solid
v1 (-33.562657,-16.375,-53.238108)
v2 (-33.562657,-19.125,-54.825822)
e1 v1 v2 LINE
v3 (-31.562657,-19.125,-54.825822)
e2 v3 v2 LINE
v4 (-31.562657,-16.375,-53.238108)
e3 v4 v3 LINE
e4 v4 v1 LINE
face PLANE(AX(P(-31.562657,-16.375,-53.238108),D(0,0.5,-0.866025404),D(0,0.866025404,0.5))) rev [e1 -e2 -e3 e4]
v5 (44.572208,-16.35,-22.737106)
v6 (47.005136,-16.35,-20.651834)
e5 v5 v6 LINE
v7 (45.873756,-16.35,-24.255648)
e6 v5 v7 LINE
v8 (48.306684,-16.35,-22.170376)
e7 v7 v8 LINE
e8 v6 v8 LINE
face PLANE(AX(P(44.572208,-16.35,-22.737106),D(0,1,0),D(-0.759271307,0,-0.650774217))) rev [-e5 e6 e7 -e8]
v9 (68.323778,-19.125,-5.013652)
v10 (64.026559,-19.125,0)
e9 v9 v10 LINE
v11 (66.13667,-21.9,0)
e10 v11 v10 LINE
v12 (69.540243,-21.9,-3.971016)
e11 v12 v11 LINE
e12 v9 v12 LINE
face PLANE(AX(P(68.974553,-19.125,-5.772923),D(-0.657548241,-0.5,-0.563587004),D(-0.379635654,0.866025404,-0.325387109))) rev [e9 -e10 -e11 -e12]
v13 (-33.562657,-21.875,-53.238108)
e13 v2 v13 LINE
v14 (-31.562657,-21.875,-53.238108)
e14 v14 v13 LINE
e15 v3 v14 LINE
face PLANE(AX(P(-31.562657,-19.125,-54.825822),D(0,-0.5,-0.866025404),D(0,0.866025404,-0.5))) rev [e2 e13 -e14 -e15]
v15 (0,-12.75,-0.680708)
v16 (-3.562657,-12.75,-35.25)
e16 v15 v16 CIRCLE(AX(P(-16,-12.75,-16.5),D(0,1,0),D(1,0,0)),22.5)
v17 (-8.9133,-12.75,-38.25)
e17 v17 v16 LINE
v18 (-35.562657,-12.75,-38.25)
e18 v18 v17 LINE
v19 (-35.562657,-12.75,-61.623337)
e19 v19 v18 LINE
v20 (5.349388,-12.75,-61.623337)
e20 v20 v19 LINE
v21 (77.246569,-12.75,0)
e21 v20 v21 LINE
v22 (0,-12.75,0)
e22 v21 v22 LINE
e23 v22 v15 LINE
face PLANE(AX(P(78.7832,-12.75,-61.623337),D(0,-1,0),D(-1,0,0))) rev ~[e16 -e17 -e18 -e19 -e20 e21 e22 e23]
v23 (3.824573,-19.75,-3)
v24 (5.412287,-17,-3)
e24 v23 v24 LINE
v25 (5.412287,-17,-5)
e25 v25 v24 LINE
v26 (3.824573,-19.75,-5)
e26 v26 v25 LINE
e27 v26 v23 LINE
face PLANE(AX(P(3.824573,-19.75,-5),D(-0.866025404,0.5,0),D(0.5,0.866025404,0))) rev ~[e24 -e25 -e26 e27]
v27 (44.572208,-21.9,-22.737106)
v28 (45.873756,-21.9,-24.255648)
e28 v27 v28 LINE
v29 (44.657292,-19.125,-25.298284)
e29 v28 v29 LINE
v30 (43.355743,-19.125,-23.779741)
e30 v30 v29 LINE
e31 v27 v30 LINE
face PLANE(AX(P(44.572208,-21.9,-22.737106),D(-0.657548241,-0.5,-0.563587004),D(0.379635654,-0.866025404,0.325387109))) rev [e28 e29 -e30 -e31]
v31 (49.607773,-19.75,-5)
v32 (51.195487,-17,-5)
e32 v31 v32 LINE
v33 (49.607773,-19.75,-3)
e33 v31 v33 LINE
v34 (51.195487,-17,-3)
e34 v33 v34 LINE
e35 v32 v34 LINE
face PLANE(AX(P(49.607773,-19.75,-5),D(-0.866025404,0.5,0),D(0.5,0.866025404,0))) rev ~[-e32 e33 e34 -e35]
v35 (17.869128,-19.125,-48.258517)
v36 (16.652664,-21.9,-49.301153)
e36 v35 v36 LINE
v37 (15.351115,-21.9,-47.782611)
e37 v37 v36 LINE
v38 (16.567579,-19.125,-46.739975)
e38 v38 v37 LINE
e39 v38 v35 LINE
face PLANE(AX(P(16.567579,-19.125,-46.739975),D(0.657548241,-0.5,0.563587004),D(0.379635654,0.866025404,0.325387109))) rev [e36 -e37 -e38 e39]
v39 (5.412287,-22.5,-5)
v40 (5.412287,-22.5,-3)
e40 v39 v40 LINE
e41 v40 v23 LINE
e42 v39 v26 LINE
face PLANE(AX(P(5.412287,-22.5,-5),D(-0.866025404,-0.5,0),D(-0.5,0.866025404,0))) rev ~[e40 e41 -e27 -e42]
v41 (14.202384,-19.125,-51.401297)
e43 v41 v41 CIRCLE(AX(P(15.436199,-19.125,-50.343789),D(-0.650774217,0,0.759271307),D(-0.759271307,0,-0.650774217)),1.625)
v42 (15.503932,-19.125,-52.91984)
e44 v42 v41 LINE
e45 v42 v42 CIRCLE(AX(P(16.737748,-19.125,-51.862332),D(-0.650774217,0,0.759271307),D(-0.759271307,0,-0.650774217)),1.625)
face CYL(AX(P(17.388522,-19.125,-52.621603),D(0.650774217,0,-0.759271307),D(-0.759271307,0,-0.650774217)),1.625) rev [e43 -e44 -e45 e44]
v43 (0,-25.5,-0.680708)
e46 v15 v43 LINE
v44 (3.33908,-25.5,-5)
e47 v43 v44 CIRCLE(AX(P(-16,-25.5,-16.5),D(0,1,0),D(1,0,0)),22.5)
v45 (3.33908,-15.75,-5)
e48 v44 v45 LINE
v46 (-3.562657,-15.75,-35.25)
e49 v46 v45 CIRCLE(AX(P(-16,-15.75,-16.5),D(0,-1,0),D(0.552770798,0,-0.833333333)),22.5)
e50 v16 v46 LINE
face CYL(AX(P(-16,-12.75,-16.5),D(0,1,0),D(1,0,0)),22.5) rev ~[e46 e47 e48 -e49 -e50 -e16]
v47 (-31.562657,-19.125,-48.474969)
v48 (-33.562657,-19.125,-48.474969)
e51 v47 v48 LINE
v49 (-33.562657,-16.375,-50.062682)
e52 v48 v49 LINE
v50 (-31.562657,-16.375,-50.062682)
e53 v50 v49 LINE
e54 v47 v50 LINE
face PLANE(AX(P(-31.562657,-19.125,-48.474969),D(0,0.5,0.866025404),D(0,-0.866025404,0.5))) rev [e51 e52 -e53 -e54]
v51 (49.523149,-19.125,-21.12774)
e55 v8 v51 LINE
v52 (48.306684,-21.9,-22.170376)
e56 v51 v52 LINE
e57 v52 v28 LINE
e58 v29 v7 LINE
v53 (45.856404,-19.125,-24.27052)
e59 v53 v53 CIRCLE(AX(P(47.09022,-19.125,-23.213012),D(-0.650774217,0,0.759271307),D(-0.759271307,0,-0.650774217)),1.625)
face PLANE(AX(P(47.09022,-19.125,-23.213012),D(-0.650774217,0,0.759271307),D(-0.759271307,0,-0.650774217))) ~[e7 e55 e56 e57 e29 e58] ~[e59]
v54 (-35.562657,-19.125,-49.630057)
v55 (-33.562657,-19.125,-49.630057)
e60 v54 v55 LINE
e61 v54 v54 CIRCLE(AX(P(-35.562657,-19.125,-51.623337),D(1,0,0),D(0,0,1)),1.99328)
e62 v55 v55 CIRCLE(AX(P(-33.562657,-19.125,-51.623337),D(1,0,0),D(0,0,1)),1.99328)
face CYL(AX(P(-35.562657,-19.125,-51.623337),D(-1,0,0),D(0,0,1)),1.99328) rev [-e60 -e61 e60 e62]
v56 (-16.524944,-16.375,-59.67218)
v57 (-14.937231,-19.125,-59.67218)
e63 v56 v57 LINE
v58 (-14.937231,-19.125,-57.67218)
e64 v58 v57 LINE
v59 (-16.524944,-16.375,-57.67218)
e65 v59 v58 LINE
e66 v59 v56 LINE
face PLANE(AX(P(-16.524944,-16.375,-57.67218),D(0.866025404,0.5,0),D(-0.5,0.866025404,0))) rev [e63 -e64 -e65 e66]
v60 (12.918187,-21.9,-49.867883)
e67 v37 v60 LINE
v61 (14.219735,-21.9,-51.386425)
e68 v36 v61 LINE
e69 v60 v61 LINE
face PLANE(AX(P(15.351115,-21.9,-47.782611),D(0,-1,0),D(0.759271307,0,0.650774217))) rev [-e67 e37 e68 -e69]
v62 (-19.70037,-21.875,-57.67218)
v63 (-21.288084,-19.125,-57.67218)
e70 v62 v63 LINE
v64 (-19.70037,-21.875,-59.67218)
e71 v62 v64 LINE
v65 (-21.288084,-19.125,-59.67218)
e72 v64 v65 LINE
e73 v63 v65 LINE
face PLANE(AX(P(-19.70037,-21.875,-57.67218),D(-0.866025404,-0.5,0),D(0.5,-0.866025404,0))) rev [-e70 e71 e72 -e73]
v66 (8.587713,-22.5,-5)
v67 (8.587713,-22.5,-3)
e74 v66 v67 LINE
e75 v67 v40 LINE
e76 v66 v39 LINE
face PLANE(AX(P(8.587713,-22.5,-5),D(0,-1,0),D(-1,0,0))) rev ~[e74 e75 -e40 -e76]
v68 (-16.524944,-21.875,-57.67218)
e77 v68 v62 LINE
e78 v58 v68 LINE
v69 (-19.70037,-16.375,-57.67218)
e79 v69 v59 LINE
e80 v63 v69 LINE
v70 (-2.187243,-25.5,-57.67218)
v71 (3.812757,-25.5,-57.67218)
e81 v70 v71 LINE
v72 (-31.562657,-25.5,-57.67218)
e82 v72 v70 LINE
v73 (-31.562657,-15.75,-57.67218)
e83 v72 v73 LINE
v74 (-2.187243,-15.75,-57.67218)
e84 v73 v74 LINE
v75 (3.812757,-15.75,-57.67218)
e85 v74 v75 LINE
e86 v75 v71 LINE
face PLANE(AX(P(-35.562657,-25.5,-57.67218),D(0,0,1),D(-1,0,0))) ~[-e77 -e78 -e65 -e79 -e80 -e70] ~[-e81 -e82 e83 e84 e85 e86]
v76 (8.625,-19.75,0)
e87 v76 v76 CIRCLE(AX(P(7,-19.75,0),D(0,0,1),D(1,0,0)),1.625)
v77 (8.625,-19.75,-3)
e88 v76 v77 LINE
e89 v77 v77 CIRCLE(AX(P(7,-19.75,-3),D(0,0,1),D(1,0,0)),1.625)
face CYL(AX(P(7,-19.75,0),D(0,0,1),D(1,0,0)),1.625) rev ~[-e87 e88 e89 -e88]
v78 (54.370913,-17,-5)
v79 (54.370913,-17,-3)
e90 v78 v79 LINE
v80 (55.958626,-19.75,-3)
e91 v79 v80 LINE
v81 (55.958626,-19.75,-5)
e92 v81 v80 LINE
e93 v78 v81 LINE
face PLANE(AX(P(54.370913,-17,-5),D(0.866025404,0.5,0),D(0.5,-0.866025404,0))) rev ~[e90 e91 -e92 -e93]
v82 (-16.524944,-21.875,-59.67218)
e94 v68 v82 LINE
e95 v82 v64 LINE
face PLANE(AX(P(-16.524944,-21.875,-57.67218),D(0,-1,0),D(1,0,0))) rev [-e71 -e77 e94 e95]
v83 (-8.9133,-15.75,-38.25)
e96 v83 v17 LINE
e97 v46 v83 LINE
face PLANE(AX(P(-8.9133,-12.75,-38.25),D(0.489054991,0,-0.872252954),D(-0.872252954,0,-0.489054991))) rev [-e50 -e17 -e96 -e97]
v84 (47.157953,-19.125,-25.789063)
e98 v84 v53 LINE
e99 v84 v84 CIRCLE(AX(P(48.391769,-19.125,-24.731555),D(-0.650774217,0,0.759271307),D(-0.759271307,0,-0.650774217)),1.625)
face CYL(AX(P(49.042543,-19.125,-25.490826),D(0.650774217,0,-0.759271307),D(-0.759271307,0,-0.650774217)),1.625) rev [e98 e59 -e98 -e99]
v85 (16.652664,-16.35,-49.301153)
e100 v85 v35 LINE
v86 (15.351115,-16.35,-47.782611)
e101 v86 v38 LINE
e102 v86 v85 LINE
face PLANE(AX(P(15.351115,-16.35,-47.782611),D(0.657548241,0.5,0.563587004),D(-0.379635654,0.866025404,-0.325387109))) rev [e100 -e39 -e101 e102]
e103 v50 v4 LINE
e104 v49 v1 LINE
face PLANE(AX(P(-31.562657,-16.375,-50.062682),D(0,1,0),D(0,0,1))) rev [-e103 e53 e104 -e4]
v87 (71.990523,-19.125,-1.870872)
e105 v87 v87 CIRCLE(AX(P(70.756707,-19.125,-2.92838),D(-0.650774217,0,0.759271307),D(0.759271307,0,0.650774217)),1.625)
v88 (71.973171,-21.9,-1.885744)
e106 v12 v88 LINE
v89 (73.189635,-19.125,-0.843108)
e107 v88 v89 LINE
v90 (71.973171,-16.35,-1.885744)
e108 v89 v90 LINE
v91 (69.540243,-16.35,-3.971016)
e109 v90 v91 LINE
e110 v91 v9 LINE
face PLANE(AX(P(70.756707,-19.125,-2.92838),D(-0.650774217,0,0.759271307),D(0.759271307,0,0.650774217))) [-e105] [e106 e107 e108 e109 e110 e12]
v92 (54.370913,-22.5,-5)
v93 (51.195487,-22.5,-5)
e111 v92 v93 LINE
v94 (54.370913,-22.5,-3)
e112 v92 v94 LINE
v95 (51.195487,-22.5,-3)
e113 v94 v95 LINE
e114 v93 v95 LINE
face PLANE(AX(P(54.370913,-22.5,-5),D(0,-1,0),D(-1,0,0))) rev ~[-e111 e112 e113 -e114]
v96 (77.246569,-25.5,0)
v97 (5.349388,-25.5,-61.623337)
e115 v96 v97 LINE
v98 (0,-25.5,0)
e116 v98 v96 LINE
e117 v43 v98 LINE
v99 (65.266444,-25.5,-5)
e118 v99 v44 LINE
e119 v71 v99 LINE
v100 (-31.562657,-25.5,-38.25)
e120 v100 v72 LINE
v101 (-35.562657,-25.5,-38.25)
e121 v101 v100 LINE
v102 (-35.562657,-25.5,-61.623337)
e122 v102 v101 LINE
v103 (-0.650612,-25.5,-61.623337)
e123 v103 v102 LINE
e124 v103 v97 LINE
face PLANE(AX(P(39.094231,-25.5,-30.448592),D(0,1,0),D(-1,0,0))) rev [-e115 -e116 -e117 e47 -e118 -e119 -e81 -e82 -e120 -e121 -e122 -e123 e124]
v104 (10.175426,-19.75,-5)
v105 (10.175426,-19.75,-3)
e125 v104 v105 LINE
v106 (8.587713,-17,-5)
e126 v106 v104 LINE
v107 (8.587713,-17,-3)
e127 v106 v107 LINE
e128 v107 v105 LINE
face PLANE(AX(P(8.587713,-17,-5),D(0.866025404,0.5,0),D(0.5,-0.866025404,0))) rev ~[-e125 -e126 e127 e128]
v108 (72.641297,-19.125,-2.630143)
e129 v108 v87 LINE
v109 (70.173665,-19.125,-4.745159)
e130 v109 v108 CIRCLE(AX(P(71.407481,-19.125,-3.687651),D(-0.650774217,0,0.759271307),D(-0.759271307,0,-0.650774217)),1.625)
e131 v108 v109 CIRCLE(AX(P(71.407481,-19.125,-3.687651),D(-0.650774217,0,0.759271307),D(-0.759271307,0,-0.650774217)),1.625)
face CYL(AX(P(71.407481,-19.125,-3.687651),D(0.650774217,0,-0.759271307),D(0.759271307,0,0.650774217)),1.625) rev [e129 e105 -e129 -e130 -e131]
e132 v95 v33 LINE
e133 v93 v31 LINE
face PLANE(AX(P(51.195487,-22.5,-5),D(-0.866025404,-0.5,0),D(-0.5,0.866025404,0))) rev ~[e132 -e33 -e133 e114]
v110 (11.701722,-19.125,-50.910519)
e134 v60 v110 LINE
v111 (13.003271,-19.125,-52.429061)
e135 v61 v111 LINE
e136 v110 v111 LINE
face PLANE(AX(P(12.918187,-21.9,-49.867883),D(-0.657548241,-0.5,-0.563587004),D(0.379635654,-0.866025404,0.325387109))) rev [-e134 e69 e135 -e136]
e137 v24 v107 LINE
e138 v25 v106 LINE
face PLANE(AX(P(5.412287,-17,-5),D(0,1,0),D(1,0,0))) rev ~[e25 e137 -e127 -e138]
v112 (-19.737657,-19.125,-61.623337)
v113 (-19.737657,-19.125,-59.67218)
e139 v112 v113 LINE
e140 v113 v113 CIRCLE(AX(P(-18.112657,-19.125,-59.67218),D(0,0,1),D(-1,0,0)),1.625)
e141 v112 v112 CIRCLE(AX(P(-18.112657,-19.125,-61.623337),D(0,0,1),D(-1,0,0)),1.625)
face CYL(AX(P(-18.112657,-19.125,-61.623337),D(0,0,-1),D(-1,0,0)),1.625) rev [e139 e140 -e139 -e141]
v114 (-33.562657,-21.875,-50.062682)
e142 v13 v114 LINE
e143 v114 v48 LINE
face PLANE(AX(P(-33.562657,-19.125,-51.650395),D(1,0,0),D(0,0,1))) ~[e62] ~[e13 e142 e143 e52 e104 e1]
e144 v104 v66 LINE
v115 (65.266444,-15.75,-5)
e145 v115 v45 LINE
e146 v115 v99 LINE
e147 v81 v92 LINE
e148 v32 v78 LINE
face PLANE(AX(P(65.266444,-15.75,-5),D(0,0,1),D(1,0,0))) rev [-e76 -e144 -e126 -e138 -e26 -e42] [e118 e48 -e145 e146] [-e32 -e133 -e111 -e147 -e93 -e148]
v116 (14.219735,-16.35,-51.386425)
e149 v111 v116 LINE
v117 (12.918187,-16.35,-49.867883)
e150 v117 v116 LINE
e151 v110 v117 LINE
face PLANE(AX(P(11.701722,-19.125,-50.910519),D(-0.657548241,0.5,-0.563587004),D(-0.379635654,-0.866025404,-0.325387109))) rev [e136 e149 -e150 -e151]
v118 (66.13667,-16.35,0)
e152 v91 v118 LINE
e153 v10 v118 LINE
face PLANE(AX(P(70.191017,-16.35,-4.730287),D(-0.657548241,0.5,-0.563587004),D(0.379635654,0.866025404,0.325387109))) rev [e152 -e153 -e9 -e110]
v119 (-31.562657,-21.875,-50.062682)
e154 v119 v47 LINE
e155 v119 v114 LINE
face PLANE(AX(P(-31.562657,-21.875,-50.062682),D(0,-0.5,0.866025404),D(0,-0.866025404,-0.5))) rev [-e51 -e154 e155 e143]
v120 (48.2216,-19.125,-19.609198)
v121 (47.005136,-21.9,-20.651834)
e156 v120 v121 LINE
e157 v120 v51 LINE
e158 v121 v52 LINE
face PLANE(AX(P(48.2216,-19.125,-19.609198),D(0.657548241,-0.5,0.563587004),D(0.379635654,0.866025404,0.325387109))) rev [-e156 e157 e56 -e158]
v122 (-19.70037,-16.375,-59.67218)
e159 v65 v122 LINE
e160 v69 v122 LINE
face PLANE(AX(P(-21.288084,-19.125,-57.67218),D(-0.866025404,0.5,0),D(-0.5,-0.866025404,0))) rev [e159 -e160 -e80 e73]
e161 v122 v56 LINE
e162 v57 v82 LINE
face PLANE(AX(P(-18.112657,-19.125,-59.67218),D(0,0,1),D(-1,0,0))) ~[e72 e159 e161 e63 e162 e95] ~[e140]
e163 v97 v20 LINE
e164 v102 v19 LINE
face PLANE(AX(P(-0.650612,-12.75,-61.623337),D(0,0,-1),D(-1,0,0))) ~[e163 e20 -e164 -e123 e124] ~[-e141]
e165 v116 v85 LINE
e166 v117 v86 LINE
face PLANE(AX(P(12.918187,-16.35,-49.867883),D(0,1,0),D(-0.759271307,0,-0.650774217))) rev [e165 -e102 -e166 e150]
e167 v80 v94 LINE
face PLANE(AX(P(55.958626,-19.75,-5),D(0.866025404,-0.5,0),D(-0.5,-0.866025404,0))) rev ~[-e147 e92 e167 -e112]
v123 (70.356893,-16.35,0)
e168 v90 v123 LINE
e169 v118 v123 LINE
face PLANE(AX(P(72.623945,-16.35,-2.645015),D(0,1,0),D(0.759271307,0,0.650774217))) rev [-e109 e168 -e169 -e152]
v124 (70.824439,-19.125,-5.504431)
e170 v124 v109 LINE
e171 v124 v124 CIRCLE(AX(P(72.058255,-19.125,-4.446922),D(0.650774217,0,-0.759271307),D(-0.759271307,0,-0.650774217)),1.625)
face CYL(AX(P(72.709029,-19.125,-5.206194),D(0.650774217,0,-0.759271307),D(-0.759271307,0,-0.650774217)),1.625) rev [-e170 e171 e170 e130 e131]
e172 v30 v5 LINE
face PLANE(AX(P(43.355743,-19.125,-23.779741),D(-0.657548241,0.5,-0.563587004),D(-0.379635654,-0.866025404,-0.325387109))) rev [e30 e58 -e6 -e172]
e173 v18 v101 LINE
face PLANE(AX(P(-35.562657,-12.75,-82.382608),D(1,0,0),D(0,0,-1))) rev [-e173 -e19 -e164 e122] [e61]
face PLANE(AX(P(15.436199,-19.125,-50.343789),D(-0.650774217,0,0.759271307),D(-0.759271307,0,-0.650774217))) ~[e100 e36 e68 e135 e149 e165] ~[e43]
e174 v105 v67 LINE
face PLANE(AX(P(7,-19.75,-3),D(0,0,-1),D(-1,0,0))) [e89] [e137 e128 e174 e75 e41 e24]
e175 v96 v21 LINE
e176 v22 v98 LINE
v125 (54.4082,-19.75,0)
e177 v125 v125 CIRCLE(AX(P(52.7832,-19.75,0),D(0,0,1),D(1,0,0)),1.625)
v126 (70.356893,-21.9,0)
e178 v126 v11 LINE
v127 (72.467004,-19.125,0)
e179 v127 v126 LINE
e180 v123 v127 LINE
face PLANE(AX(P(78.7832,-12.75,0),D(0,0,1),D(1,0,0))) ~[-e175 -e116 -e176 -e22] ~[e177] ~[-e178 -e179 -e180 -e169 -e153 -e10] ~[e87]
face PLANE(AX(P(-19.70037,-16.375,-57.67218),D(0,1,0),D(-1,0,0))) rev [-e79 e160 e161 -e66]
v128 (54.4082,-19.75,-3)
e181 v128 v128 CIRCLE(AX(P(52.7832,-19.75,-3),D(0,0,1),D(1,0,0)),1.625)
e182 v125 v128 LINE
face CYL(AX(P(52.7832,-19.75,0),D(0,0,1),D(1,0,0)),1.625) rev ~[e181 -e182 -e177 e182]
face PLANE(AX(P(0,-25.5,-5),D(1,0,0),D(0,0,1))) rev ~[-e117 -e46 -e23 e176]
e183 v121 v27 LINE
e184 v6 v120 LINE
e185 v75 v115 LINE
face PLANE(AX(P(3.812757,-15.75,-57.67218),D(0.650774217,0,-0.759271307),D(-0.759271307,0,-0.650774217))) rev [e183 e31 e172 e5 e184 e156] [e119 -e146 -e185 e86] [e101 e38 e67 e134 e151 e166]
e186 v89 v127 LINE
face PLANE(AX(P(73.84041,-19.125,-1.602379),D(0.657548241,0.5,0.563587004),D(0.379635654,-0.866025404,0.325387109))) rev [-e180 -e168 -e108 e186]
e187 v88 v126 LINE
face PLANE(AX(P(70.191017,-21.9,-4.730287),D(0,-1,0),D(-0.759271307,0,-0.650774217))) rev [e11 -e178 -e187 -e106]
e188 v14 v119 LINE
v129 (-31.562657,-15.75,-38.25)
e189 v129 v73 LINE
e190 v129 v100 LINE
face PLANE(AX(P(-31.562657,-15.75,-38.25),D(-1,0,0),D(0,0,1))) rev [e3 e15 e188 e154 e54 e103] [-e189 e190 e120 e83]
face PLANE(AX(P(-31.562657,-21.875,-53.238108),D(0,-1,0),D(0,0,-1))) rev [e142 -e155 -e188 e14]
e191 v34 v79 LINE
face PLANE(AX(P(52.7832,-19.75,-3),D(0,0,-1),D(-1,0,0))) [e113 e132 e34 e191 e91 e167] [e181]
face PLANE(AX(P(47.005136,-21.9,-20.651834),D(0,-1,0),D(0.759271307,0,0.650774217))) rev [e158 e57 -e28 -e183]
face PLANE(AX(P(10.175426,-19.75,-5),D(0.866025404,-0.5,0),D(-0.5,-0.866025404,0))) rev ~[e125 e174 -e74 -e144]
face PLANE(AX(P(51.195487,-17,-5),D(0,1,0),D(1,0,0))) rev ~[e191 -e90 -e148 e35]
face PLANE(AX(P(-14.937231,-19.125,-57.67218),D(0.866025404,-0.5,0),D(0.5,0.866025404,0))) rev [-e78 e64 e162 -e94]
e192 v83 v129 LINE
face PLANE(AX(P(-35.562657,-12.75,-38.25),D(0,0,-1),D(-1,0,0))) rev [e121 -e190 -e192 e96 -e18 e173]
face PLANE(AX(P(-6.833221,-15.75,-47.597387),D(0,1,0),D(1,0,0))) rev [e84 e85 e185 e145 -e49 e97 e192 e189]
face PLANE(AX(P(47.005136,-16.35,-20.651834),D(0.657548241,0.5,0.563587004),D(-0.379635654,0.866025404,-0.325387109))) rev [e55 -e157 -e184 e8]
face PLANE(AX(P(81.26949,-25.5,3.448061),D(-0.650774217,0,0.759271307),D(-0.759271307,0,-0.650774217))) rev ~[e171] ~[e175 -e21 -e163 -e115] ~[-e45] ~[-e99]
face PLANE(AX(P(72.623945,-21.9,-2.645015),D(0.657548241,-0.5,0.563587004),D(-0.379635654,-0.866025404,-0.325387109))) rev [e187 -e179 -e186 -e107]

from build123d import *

# Parameters (mm, degrees)
SALIENTE_EXTRUIR1_DEPTH     = 12.75
CORTAR_EXTRUIR1_REACH       = 31.62
CROQUIS2_R                  = 1.625
CROQUIS3_R                  = 22.5
CORTAR_EXTRUIR2_DEPTH       = 13.75
SALIENTE_EXTRUIR2_DEPTH     = 3
SALIENTE_EXTRUIR3_DEPTH     = 9.75
CROQUIS6_R                  = 1.625
CORTAR_EXTRUIR3_DEPTH       = 10
CORTAR_EXTRUIR4_START       = -2
CORTAR_EXTRUIR4_DEPTH       = 10
CORTAR_EXTRUIR5_START       = -2
CORTAR_EXTRUIR5_DEPTH       = 10
CORTAR_EXTRUIR6_DEPTH       = 2
CORTAR_EXTRUIR7_REACH       = 37.25
CROQUIS10_R                 = 1.625
CORTAR_EXTRUIR8_DEPTH       = 2
CROQUIS12_W                 = 92.508691999
CROQUIS12_H                 = 24.255818813
CORTAR_EXTRUIR9_DEPTH       = 1
CORTAR_EXTRUIR9_DEPTH_BACK  = 36.25
SALIENTE_EXTRUIR4_DEPTH     = 12.75
CORTAR_EXTRUIR10_START      = -9.75
CORTAR_EXTRUIR10_DEPTH      = 9.75
CROQUIS16_W                 = 76.692813467
CROQUIS16_H                 = 12.75
CORTAR_EXTRUIR11_DEPTH      = 1
CROQUIS17_W                 = 40.657498706
CROQUIS17_H                 = 22.934549925
CORTAR_EXTRUIR12_DEPTH      = 1
CORTAR_EXTRUIR12_DEPTH_BACK = 13.75
SALIENTE_EXTRUIR5_REACH     = 14.75
CROQUIS18_W                 = 34.9120451
CROQUIS18_H                 = 3.951156815
CROQUIS20_R                 = 1.625
CORTAR_EXTRUIR14_DEPTH      = 10
CORTAR_EXTRUIR15_DEPTH      = 2
CROQUIS22_R                 = 1.625
CORTAR_EXTRUIR16_DEPTH      = 10
CORTAR_EXTRUIR17_DEPTH      = 2
SALIENTE_EXTRUIR6_DEPTH     = 12.75
CORTAR_EXTRUIR18_DEPTH      = 2
CROQUIS28_R                 = 1.625
SALIENTE_EXTRUIR7_DEPTH     = 1
CORTAR_EXTRUIR19_REACH      = 110.346
CROQUIS29_R                 = 1.993280097
CORTAR_EXTRUIR20_DEPTH      = 2
SALIENTE_EXTRUIR8_DEPTH     = 12.75
SALIENTE_EXTRUIR9_START     = -2.904645
SALIENTE_EXTRUIR9_DEPTH     = 5
SALIENTE_EXTRUIR10_REACH    = 76.413
CORTAR_EXTRUIR21_START      = -9.75
CORTAR_EXTRUIR21_DEPTH      = 9.75
CROQUIS36_R                 = 1.625
CORTAR_EXTRUIR22_DEPTH      = 15
CORTAR_EXTRUIR23_DEPTH      = 2
CORTAR_EXTRUIR24_START      = -2
CORTAR_EXTRUIR24_DEPTH      = 73.413335578
CROQUIS19_W                 = 120.448667976
CROQUIS19_H                 = 32.886651308
CORTAR_EXTRUIR13_DEPTH      = 1
CORTAR_EXTRUIR13_DEPTH_BACK = 62.623336743
CORTAR_EXTRUIR25_DEPTH      = 1
CORTAR_EXTRUIR25_DEPTH_BACK = 13.75
CROQUIS42_R                 = 1.625
SALIENTE_EXTRUIR11_DEPTH    = 1


with BuildPart() as part:
    # Croquis1 → Saliente-Extruir1 (new body)
    with BuildSketch(Plane(origin=(0, 0, 0), x_dir=(1, 0, 0), z_dir=(0, 1, 0))):
        Polygon((0, 0), (72.78319995, 0), (38.224450787, 29.62043043), (35.621353918, 26.5833452), (60.803074847, 5), (0, 5), align=None)
    extrude(amount=SALIENTE_EXTRUIR1_DEPTH)

    # Croquis2 → Cortar-Extruir1 (cut, up to next)
    with BuildSketch(Plane.XY, mode=Mode.PRIVATE) as cortar_extruir1_sk1:
        with Locations((52.78319995, 5.75)):
            Circle(CROQUIS2_R)
    cortar_extruir1_tool1 = extrude(cortar_extruir1_sk1.sketch, amount=-CORTAR_EXTRUIR1_REACH, mode=Mode.PRIVATE) & part.part
    add(cortar_extruir1_tool1.solids().sort_by_distance((52.7832, 5.75, 0))[0], mode=Mode.SUBTRACT)
    # Croquis2 → Cortar-Extruir1 (cut, up to next)
    with BuildSketch(Plane.XY, mode=Mode.PRIVATE) as cortar_extruir1_sk2:
        with Locations((6.99999995, 5.75)):
            Circle(CROQUIS2_R)
    cortar_extruir1_tool2 = extrude(cortar_extruir1_sk2.sketch, amount=-CORTAR_EXTRUIR1_REACH, mode=Mode.PRIVATE) & part.part
    add(cortar_extruir1_tool2.solids().sort_by_distance((7, 5.75, 0))[0], mode=Mode.SUBTRACT)

    # Croquis3 → Cortar-Extruir2 (cut, through all)
    with BuildSketch(Plane(origin=(0, 12.75, 0), x_dir=(1, 0, 0), z_dir=(0, 1, 0))):
        with Locations((-16, 16.5)):
            Circle(CROQUIS3_R)
    extrude(amount=-CORTAR_EXTRUIR2_DEPTH, mode=Mode.SUBTRACT)

    # Croquis4 → Saliente-Extruir2 (add)
    with BuildSketch(Plane(origin=(0, 12.75, 0), x_dir=(1, 0, 0), z_dir=(0, 1, 0))):
        with BuildLine():
            Line((38.224450787, 29.62043043), (31.656319269, 35.25))
            Line((31.656319269, 35.25), (-3.562657036, 35.25))
            ThreePointArc((-3.562657036, 35.25), (5.936291456, 21.504909307), (3.339079606, 5))
            Line((3.339079606, 5), (60.803074847, 5))
            Line((60.803074847, 5), (35.621353918, 26.5833452))
            Line((35.621353918, 26.5833452), (38.224450787, 29.62043043))
        make_face()
    extrude(amount=-SALIENTE_EXTRUIR2_DEPTH)

    # Croquis5 → Saliente-Extruir3 (add)
    with BuildSketch(Plane.XZ.offset(-9.75)):
        with BuildLine():
            Line((-3.562657036, -35.25), (31.656319269, -35.25))
            Line((31.656319269, -35.25), (38.224450787, -29.62043043))
            Line((38.224450787, -29.62043043), (35.621353918, -26.5833452))
            Line((35.621353918, -26.5833452), (30.17667434, -31.25))
            Line((30.17667434, -31.25), (0.990806338, -31.25))
            ThreePointArc((0.990806338, -31.25), (-1.15062315, -33.404023402), (-3.562657036, -35.25))
        make_face()
    extrude(amount=SALIENTE_EXTRUIR3_DEPTH)

    # Croquis6 → Cortar-Extruir3 (cut)
    with BuildSketch(Plane(origin=(30.824200619, 0, -35.963211942), x_dir=(-0.759271307, 0, -0.650774217), z_dir=(0.650774217, 0, -0.759271307))):
        with Locations((-47.262195378, 6.375)):
            Circle(CROQUIS6_R)
        with Locations((-16.095943758, 6.375)):
            Circle(CROQUIS6_R)
    extrude(amount=-CORTAR_EXTRUIR3_DEPTH, mode=Mode.SUBTRACT)

    # Croquis7 → Cortar-Extruir4 (cut)
    with BuildSketch(Plane(origin=(28.22110375, 0, -32.926126712), x_dir=(0.759271307, 0, 0.650774217), z_dir=(-0.650774217, 0, 0.759271307)).offset(CORTAR_EXTRUIR4_START)):
        Polygon((48.849908618, 3.625), (50.437621859, 6.375), (48.849908618, 9.125), (45.674482138, 9.125), (44.086768898, 6.375), (45.674482138, 3.625), align=None)
    extrude(amount=CORTAR_EXTRUIR4_DEPTH, mode=Mode.SUBTRACT)

    # Croquis8 → Cortar-Extruir5 (cut)
    with BuildSketch(Plane(origin=(28.22110375, 0, -32.926126712), x_dir=(0.759271307, 0, 0.650774217), z_dir=(-0.650774217, 0, 0.759271307)).offset(CORTAR_EXTRUIR5_START)):
        Polygon((17.683656999, 3.625), (19.271370239, 6.375), (17.683656999, 9.125), (14.508230518, 9.125), (12.920517278, 6.375), (14.508230518, 3.625), align=None)
    extrude(amount=CORTAR_EXTRUIR5_DEPTH, mode=Mode.SUBTRACT)

    # Croquis9 → Cortar-Extruir6 (cut)
    with BuildSketch(Plane(origin=(0, 0, -5), x_dir=(-1, 0, 0), z_dir=(0, 0, -1))):
        Polygon((-5.41228671, 3), (-3.824573469, 5.75), (-5.41228671, 8.5), (-8.58771319, 8.5), (-10.175426431, 5.75), (-8.58771319, 3), align=None)
        Polygon((-51.19548671, 3), (-49.607773469, 5.75), (-51.19548671, 8.5), (-54.37091319, 8.5), (-55.958626431, 5.75), (-54.37091319, 3), align=None)
    extrude(amount=-CORTAR_EXTRUIR6_DEPTH, mode=Mode.SUBTRACT)

    # Croquis10 → Cortar-Extruir7 (cut, up to next)
    with BuildSketch(Plane(origin=(0, 0, -35.25), x_dir=(-1, 0, 0), z_dir=(0, 0, -1)), mode=Mode.PRIVATE) as cortar_extruir7_sk1:
        with Locations((-21.656319269, 6.375)):
            Circle(CROQUIS10_R)
    cortar_extruir7_tool1 = extrude(cortar_extruir7_sk1.sketch, amount=-CORTAR_EXTRUIR7_REACH, mode=Mode.PRIVATE) & part.part
    add(cortar_extruir7_tool1.solids().sort_by_distance((21.656319, 6.375, -35.25))[0], mode=Mode.SUBTRACT)

    # Croquis11 → Cortar-Extruir8 (cut)
    with BuildSketch(Plane.XY.offset(-31.25)):
        Polygon((23.24403251, 3.625), (24.83174575, 6.375), (23.24403251, 9.125), (20.068606029, 9.125), (18.480892789, 6.375), (20.068606029, 3.625), align=None)
    extrude(amount=-CORTAR_EXTRUIR8_DEPTH, mode=Mode.SUBTRACT)

    # Simetría1: part across plane


with BuildPart() as part_1:
    add(part.part)
    add(part.part.mirror(Plane.ZX))

    # Croquis12 → Cortar-Extruir9 (cut, two sides)
    with BuildSketch(Plane(origin=(0, 0, -35.25), x_dir=(-1, 0, 0), z_dir=(0, 0, -1))) as cortar_extruir9_sk:
        with Locations((-33.077560565, 12.127909407)):
            Rectangle(CROQUIS12_W, CROQUIS12_H)
    extrude(amount=CORTAR_EXTRUIR9_DEPTH, mode=Mode.SUBTRACT)
    extrude(cortar_extruir9_sk.sketch, amount=-CORTAR_EXTRUIR9_DEPTH_BACK, mode=Mode.SUBTRACT)

    # Croquis13 → Saliente-Extruir4 (add)
    with BuildSketch(Plane.XZ.offset(12.75)):
        Polygon((-35.562657036, -82.38260805), (-35.562657036, -38.25), (-8.913300435, -38.25), (-3.562657036, -35.25), (31.656319269, -35.25), (0.000162281, -62.38260805), align=None)
    extrude(amount=-SALIENTE_EXTRUIR4_DEPTH)

    # Croquis14 → Cortar-Extruir10 (cut)
    with BuildSketch(Plane(origin=(0, 0, 0), x_dir=(1, 0, 0), z_dir=(0, 1, 0)).offset(CORTAR_EXTRUIR10_START)):
        Polygon((30.17667434, 31.25), (0.990806338, 31.25), (-31.562657036, 38.25), (-31.562657036, 75.543902968), (-2.303881466, 59.089203295), align=None)
    extrude(amount=CORTAR_EXTRUIR10_DEPTH, mode=Mode.SUBTRACT)

    # Croquis16 → Cortar-Extruir11 (cut)
    with BuildSketch(Plane(origin=(30.824200619, 0, -35.963211942), x_dir=(-0.759271307, 0, -0.650774217), z_dir=(0.650774217, 0, -0.759271307))):
        with Locations((2.250462975, -6.375)):
            Rectangle(CROQUIS16_W, CROQUIS16_H)
    extrude(amount=-CORTAR_EXTRUIR11_DEPTH, mode=Mode.SUBTRACT)

    # Croquis17 → Cortar-Extruir12 (cut, two sides)
    with BuildSketch(Plane.XZ.offset(12.75)) as cortar_extruir12_sk:
        with Locations((-20.328587072, -73.090611706)):
            Rectangle(CROQUIS17_W, CROQUIS17_H)
    extrude(amount=CORTAR_EXTRUIR12_DEPTH, mode=Mode.SUBTRACT)
    extrude(cortar_extruir12_sk.sketch, amount=-CORTAR_EXTRUIR12_DEPTH_BACK, mode=Mode.SUBTRACT)

    # Croquis18 → Saliente-Extruir5 (add, up to next)
    with BuildSketch(Plane(origin=(0, 0, 0), x_dir=(1, 0, 0), z_dir=(0, 1, 0)), mode=Mode.PRIVATE) as saliente_extruir5_sk1:
        with Locations((-18.106634486, 59.647758336)):
            Rectangle(CROQUIS18_W, CROQUIS18_H)
    saliente_extruir5_tool1 = extrude(saliente_extruir5_sk1.sketch, amount=-SALIENTE_EXTRUIR5_REACH, mode=Mode.PRIVATE) - part_1.part
    add(saliente_extruir5_tool1.solids().sort_by_distance((-18.106634, 0, -59.647758))[0])

    # Croquis20 → Cortar-Extruir14 (cut)
    with BuildSketch(Plane(origin=(30.173426402, 0, -35.203940634), x_dir=(-0.759271307, 0, -0.650774217), z_dir=(0.650774217, 0, -0.759271307))):
        with Locations((25.596869709, -6.375)):
            Circle(CROQUIS20_R)
        with Locations((-16.095943758, -6.375)):
            Circle(CROQUIS20_R)
    extrude(amount=-CORTAR_EXTRUIR14_DEPTH, mode=Mode.SUBTRACT)

    # Croquis21 → Cortar-Extruir15 (cut)
    with BuildSketch(Plane(origin=(28.22110375, 0, -32.926126712), x_dir=(0.759271307, 0, 0.650774217), z_dir=(-0.650774217, 0, 0.759271307))):
        Polygon((-24.009156469, -9.125), (-22.421443229, -6.375), (-24.009156469, -3.625), (-27.184582949, -3.625), (-28.77229619, -6.375), (-27.184582949, -9.125), align=None)
    extrude(amount=-CORTAR_EXTRUIR15_DEPTH, mode=Mode.SUBTRACT)

    # Croquis22 → Cortar-Extruir16 (cut)
    with BuildSketch(Plane(origin=(0, 0, -61.623336743), x_dir=(-1, 0, 0), z_dir=(0, 0, -1))):
        with Locations((18.112657036, -6.375)):
            Circle(CROQUIS22_R)
    extrude(amount=-CORTAR_EXTRUIR16_DEPTH, mode=Mode.SUBTRACT)

    # Croquis23 → Cortar-Extruir17 (cut)
    with BuildSketch(Plane.XY.offset(-57.672179928)):
        Polygon((-16.524943796, -9.125), (-14.937230556, -6.375), (-16.524943796, -3.625), (-19.700370276, -3.625), (-21.288083517, -6.375), (-19.700370276, -9.125), align=None)
    extrude(amount=-CORTAR_EXTRUIR17_DEPTH, mode=Mode.SUBTRACT)

    # Croquis26 → Saliente-Extruir6 (add)
    with BuildSketch(Plane(origin=(0, 0, 0), x_dir=(1, 0, 0), z_dir=(0, 1, 0))):
        Polygon((60.803074847, 5), (-2.287792345, 59.07541325), (-2.938566562, 58.316141943), (60.15230063, 4.240728693), align=None)
    extrude(amount=-SALIENTE_EXTRUIR6_DEPTH)

    # Croquis27 → Cortar-Extruir18 (cut)
    with BuildSketch(Plane(origin=(27.570329533, 0, -32.166855405), x_dir=(0.759271307, 0, 0.650774217), z_dir=(-0.650774217, 0, 0.759271307))):
        Polygon((-22.421443229, -6.375), (-24.009156469, -3.625), (-27.184582949, -3.625), (-28.77229619, -6.375), (-27.184582949, -9.125), (-24.009156469, -9.125), align=None)
        Polygon((19.271370239, -6.375), (17.683656999, -3.625), (14.508230518, -3.625), (12.920517278, -6.375), (14.508230518, -9.125), (17.683656999, -9.125), align=None)
    extrude(amount=-CORTAR_EXTRUIR18_DEPTH, mode=Mode.SUBTRACT)

    # Croquis28 → Saliente-Extruir7 (add)
    with BuildSketch(Plane(origin=(29.522652185, 0, -34.444669327), x_dir=(0.759271307, 0, 0.650774217), z_dir=(-0.650774217, 0, 0.759271307))):
        Polygon((-24.009156469, -3.625), (-27.184582949, -3.625), (-28.77229619, -6.375), (-27.184582949, -9.125), (-24.009156469, -9.125), (-22.421443229, -6.375), align=None)
        with Locations((-25.596869709, -6.375)):
            Circle(CROQUIS28_R, mode=Mode.SUBTRACT)
        Polygon((17.683656999, -3.625), (14.508230518, -3.625), (12.920517278, -6.375), (14.508230518, -9.125), (17.683656999, -9.125), (19.271370239, -6.375), align=None)
        with Locations((16.095943758, -6.375)):
            Circle(CROQUIS28_R, mode=Mode.SUBTRACT)
    extrude(amount=SALIENTE_EXTRUIR7_DEPTH)

    # Croquis29 → Cortar-Extruir19 (cut, up to next)
    with BuildSketch(Plane.ZY.offset(35.562657036), mode=Mode.PRIVATE) as cortar_extruir19_sk1:
        with Locations((-51.623336743, -6.375)):
            Circle(CROQUIS29_R)
    cortar_extruir19_tool1 = extrude(cortar_extruir19_sk1.sketch, amount=-CORTAR_EXTRUIR19_REACH, mode=Mode.PRIVATE) & part_1.part
    add(cortar_extruir19_tool1.solids().sort_by_distance((-35.562657, -6.375, -51.623337))[0], mode=Mode.SUBTRACT)

    # Croquis30 → Cortar-Extruir20 (cut)
    with BuildSketch(Plane(origin=(-31.562657036, 0, 0), x_dir=(0, 0, -1), z_dir=(1, 0, 0))):
        Polygon((53.238108484, -9.125), (54.825821725, -6.375), (53.238108484, -3.625), (50.062682004, -3.625), (48.474968763, -6.375), (50.062682004, -9.125), align=None)
    extrude(amount=-CORTAR_EXTRUIR20_DEPTH, mode=Mode.SUBTRACT)

    # Croquis32 → Saliente-Extruir8 (add)
    with BuildSketch(Plane.XZ.offset(12.75)):
        Polygon((-0.650611936, -61.623336743), (5.349388064, -61.623336743), (60.1210833, -14.678316233), (60.771857517, -15.43758754), (78.78319995, 0), (72.78319995, 0), (58.230815026, -12.472902396), (57.580040809, -11.713631088), align=None)
    extrude(amount=-SALIENTE_EXTRUIR8_DEPTH)

    # Croquis33 → Saliente-Extruir9 (add)
    with BuildSketch(Plane(origin=(32.714468893, 0, -38.168625779), x_dir=(-0.759271307, 0, -0.650774217), z_dir=(0.650774217, 0, -0.759271307)).offset(SALIENTE_EXTRUIR9_START)):
        Polygon((-14.508230518, -3.625), (-17.683656999, -3.625), (-19.271370239, -6.375), (-17.683656999, -9.125), (-14.508230518, -9.125), (-12.920517278, -6.375), align=None)
        Polygon((27.184582949, -3.625), (24.009156469, -3.625), (22.421443229, -6.375), (24.009156469, -9.125), (27.184582949, -9.125), (28.77229619, -6.375), align=None)
    extrude(amount=-SALIENTE_EXTRUIR9_DEPTH)

    # Saliente-Extruir10: up to this face of the body (flat: up to its plane)
    saliente_extruir10_end = Plane(part_1.part.faces().sort_by_distance((38.729797406, -6.385876659, 0))[0])
    # Croquis34 → Saliente-Extruir10 (add, up to the picked face)
    with BuildSketch(Plane(origin=(33.36524311, 0, -38.927897086), x_dir=(-0.759271307, 0, -0.650774217), z_dir=(0.650774217, 0, -0.759271307)), mode=Mode.PRIVATE) as saliente_extruir10_sk1:
        Polygon((-45.674482138, -3.625), (-48.849908618, -3.625), (-50.437621859, -6.375), (-48.849908618, -9.125), (-45.674482138, -9.125), (-44.086768898, -6.375), align=None)
    saliente_extruir10_tool1 = split(extrude(saliente_extruir10_sk1.sketch, amount=-SALIENTE_EXTRUIR10_REACH, mode=Mode.PRIVATE), bisect_by=saliente_extruir10_end, keep=Keep.BOTH, mode=Mode.PRIVATE)
    add(saliente_extruir10_tool1.solids().sort_by_distance((69.250072, -6.375, -8.170879))[0])

    # Croquis35 → Cortar-Extruir21 (cut)
    with BuildSketch(Plane(origin=(0, 0, 0), x_dir=(1, 0, 0), z_dir=(0, 1, 0)).offset(CORTAR_EXTRUIR21_START)):
        Polygon((-2.187243188, 57.672179928), (3.812756812, 57.672179928), (65.266443595, 5), (59.266443595, 5), align=None)
    extrude(amount=CORTAR_EXTRUIR21_DEPTH, mode=Mode.SUBTRACT)

    # Croquis36 → Cortar-Extruir22 (cut)
    with BuildSketch(Plane(origin=(33.36524311, 0, -38.927897086), x_dir=(-0.759271307, 0, -0.650774217), z_dir=(0.650774217, 0, -0.759271307))):
        with Locations((-51.817823222, -6.375)):
            Circle(CROQUIS36_R)
        with Locations((-20.647823222, -6.375)):
            Circle(CROQUIS36_R)
        with Locations((21.042176778, -6.375)):
            Circle(CROQUIS36_R)
    extrude(amount=-CORTAR_EXTRUIR22_DEPTH, mode=Mode.SUBTRACT)

    # Croquis38 → Cortar-Extruir23 (cut)
    with BuildSketch(Plane(origin=(30.111372024, 0, -35.131540549), x_dir=(0.759271307, 0, 0.650774217), z_dir=(-0.650774217, 0, 0.759271307))):
        Polygon((-19.440029781, -9.15), (-17.837882784, -6.375), (-19.440029781, -3.6), (-22.644323775, -3.6), (-24.246470772, -6.375), (-22.644323775, -9.15), align=None)
        Polygon((22.249970219, -9.15), (23.852117216, -6.375), (22.249970219, -3.6), (19.045676225, -3.6), (17.443529228, -6.375), (19.045676225, -9.15), align=None)
    extrude(amount=-CORTAR_EXTRUIR23_DEPTH, mode=Mode.SUBTRACT)

    # Croquis39 → Cortar-Extruir24 (cut, through all)
    with BuildSketch(Plane(origin=(33.36524311, 0, -38.927897086), x_dir=(-0.759271307, 0, -0.650774217), z_dir=(0.650774217, 0, -0.759271307)).offset(CORTAR_EXTRUIR24_START)):
        Polygon((-50.215676225, -9.15), (-48.613529228, -6.375), (-50.215676225, -3.6), (-53.419970219, -3.6), (-55.022117216, -6.375), (-53.419970219, -9.15), align=None)
    extrude(amount=-CORTAR_EXTRUIR24_DEPTH, mode=Mode.SUBTRACT)

    # Simetría2: part across face


with BuildPart() as part_2:
    add(part_1.part)
    add(part_1.part.mirror(Plane(origin=(15.909867024, -12.75, -29.216307939), x_dir=(0, 0, 1), z_dir=(0, -1, 0))))

    # Croquis19 → Cortar-Extruir13 (cut, two sides)
    with BuildSketch(Plane(origin=(0, 0, -61.623336743), x_dir=(-1, 0, 0), z_dir=(0, 0, -1))) as cortar_extruir13_sk:
        with Locations((-18.558865962, 3.693325654)):
            Rectangle(CROQUIS19_W, CROQUIS19_H)
    extrude(amount=CORTAR_EXTRUIR13_DEPTH, mode=Mode.SUBTRACT)
    extrude(cortar_extruir13_sk.sketch, amount=-CORTAR_EXTRUIR13_DEPTH_BACK, mode=Mode.SUBTRACT)

    # Croquis40 → Cortar-Extruir25 (cut, two sides)
    with BuildSketch(Plane.XZ.offset(25.5)) as cortar_extruir25_sk:
        Polygon((60.1210833, -14.678316233), (60.771857517, -15.43758754), (81.920264416, 2.688789439), (81.269490199, 3.448060746), align=None)
    extrude(amount=CORTAR_EXTRUIR25_DEPTH, mode=Mode.SUBTRACT)
    extrude(cortar_extruir25_sk.sketch, amount=-CORTAR_EXTRUIR25_DEPTH_BACK, mode=Mode.SUBTRACT)

    # Croquis42 → Saliente-Extruir11 (add)
    with BuildSketch(Plane(origin=(32.063694676, 0, -37.409354471), x_dir=(0.759271307, 0, 0.650774217), z_dir=(-0.650774217, 0, 0.759271307))):
        Polygon((53.419970219, -16.35), (50.215676225, -16.35), (48.613529228, -19.125), (50.215676225, -21.9), (53.419970219, -21.9), (55.022117216, -19.125), align=None)
        with Locations((51.817823222, -19.125)):
            Circle(CROQUIS42_R, mode=Mode.SUBTRACT)
    extrude(amount=SALIENTE_EXTRUIR11_DEPTH)


solid = part_2.part
